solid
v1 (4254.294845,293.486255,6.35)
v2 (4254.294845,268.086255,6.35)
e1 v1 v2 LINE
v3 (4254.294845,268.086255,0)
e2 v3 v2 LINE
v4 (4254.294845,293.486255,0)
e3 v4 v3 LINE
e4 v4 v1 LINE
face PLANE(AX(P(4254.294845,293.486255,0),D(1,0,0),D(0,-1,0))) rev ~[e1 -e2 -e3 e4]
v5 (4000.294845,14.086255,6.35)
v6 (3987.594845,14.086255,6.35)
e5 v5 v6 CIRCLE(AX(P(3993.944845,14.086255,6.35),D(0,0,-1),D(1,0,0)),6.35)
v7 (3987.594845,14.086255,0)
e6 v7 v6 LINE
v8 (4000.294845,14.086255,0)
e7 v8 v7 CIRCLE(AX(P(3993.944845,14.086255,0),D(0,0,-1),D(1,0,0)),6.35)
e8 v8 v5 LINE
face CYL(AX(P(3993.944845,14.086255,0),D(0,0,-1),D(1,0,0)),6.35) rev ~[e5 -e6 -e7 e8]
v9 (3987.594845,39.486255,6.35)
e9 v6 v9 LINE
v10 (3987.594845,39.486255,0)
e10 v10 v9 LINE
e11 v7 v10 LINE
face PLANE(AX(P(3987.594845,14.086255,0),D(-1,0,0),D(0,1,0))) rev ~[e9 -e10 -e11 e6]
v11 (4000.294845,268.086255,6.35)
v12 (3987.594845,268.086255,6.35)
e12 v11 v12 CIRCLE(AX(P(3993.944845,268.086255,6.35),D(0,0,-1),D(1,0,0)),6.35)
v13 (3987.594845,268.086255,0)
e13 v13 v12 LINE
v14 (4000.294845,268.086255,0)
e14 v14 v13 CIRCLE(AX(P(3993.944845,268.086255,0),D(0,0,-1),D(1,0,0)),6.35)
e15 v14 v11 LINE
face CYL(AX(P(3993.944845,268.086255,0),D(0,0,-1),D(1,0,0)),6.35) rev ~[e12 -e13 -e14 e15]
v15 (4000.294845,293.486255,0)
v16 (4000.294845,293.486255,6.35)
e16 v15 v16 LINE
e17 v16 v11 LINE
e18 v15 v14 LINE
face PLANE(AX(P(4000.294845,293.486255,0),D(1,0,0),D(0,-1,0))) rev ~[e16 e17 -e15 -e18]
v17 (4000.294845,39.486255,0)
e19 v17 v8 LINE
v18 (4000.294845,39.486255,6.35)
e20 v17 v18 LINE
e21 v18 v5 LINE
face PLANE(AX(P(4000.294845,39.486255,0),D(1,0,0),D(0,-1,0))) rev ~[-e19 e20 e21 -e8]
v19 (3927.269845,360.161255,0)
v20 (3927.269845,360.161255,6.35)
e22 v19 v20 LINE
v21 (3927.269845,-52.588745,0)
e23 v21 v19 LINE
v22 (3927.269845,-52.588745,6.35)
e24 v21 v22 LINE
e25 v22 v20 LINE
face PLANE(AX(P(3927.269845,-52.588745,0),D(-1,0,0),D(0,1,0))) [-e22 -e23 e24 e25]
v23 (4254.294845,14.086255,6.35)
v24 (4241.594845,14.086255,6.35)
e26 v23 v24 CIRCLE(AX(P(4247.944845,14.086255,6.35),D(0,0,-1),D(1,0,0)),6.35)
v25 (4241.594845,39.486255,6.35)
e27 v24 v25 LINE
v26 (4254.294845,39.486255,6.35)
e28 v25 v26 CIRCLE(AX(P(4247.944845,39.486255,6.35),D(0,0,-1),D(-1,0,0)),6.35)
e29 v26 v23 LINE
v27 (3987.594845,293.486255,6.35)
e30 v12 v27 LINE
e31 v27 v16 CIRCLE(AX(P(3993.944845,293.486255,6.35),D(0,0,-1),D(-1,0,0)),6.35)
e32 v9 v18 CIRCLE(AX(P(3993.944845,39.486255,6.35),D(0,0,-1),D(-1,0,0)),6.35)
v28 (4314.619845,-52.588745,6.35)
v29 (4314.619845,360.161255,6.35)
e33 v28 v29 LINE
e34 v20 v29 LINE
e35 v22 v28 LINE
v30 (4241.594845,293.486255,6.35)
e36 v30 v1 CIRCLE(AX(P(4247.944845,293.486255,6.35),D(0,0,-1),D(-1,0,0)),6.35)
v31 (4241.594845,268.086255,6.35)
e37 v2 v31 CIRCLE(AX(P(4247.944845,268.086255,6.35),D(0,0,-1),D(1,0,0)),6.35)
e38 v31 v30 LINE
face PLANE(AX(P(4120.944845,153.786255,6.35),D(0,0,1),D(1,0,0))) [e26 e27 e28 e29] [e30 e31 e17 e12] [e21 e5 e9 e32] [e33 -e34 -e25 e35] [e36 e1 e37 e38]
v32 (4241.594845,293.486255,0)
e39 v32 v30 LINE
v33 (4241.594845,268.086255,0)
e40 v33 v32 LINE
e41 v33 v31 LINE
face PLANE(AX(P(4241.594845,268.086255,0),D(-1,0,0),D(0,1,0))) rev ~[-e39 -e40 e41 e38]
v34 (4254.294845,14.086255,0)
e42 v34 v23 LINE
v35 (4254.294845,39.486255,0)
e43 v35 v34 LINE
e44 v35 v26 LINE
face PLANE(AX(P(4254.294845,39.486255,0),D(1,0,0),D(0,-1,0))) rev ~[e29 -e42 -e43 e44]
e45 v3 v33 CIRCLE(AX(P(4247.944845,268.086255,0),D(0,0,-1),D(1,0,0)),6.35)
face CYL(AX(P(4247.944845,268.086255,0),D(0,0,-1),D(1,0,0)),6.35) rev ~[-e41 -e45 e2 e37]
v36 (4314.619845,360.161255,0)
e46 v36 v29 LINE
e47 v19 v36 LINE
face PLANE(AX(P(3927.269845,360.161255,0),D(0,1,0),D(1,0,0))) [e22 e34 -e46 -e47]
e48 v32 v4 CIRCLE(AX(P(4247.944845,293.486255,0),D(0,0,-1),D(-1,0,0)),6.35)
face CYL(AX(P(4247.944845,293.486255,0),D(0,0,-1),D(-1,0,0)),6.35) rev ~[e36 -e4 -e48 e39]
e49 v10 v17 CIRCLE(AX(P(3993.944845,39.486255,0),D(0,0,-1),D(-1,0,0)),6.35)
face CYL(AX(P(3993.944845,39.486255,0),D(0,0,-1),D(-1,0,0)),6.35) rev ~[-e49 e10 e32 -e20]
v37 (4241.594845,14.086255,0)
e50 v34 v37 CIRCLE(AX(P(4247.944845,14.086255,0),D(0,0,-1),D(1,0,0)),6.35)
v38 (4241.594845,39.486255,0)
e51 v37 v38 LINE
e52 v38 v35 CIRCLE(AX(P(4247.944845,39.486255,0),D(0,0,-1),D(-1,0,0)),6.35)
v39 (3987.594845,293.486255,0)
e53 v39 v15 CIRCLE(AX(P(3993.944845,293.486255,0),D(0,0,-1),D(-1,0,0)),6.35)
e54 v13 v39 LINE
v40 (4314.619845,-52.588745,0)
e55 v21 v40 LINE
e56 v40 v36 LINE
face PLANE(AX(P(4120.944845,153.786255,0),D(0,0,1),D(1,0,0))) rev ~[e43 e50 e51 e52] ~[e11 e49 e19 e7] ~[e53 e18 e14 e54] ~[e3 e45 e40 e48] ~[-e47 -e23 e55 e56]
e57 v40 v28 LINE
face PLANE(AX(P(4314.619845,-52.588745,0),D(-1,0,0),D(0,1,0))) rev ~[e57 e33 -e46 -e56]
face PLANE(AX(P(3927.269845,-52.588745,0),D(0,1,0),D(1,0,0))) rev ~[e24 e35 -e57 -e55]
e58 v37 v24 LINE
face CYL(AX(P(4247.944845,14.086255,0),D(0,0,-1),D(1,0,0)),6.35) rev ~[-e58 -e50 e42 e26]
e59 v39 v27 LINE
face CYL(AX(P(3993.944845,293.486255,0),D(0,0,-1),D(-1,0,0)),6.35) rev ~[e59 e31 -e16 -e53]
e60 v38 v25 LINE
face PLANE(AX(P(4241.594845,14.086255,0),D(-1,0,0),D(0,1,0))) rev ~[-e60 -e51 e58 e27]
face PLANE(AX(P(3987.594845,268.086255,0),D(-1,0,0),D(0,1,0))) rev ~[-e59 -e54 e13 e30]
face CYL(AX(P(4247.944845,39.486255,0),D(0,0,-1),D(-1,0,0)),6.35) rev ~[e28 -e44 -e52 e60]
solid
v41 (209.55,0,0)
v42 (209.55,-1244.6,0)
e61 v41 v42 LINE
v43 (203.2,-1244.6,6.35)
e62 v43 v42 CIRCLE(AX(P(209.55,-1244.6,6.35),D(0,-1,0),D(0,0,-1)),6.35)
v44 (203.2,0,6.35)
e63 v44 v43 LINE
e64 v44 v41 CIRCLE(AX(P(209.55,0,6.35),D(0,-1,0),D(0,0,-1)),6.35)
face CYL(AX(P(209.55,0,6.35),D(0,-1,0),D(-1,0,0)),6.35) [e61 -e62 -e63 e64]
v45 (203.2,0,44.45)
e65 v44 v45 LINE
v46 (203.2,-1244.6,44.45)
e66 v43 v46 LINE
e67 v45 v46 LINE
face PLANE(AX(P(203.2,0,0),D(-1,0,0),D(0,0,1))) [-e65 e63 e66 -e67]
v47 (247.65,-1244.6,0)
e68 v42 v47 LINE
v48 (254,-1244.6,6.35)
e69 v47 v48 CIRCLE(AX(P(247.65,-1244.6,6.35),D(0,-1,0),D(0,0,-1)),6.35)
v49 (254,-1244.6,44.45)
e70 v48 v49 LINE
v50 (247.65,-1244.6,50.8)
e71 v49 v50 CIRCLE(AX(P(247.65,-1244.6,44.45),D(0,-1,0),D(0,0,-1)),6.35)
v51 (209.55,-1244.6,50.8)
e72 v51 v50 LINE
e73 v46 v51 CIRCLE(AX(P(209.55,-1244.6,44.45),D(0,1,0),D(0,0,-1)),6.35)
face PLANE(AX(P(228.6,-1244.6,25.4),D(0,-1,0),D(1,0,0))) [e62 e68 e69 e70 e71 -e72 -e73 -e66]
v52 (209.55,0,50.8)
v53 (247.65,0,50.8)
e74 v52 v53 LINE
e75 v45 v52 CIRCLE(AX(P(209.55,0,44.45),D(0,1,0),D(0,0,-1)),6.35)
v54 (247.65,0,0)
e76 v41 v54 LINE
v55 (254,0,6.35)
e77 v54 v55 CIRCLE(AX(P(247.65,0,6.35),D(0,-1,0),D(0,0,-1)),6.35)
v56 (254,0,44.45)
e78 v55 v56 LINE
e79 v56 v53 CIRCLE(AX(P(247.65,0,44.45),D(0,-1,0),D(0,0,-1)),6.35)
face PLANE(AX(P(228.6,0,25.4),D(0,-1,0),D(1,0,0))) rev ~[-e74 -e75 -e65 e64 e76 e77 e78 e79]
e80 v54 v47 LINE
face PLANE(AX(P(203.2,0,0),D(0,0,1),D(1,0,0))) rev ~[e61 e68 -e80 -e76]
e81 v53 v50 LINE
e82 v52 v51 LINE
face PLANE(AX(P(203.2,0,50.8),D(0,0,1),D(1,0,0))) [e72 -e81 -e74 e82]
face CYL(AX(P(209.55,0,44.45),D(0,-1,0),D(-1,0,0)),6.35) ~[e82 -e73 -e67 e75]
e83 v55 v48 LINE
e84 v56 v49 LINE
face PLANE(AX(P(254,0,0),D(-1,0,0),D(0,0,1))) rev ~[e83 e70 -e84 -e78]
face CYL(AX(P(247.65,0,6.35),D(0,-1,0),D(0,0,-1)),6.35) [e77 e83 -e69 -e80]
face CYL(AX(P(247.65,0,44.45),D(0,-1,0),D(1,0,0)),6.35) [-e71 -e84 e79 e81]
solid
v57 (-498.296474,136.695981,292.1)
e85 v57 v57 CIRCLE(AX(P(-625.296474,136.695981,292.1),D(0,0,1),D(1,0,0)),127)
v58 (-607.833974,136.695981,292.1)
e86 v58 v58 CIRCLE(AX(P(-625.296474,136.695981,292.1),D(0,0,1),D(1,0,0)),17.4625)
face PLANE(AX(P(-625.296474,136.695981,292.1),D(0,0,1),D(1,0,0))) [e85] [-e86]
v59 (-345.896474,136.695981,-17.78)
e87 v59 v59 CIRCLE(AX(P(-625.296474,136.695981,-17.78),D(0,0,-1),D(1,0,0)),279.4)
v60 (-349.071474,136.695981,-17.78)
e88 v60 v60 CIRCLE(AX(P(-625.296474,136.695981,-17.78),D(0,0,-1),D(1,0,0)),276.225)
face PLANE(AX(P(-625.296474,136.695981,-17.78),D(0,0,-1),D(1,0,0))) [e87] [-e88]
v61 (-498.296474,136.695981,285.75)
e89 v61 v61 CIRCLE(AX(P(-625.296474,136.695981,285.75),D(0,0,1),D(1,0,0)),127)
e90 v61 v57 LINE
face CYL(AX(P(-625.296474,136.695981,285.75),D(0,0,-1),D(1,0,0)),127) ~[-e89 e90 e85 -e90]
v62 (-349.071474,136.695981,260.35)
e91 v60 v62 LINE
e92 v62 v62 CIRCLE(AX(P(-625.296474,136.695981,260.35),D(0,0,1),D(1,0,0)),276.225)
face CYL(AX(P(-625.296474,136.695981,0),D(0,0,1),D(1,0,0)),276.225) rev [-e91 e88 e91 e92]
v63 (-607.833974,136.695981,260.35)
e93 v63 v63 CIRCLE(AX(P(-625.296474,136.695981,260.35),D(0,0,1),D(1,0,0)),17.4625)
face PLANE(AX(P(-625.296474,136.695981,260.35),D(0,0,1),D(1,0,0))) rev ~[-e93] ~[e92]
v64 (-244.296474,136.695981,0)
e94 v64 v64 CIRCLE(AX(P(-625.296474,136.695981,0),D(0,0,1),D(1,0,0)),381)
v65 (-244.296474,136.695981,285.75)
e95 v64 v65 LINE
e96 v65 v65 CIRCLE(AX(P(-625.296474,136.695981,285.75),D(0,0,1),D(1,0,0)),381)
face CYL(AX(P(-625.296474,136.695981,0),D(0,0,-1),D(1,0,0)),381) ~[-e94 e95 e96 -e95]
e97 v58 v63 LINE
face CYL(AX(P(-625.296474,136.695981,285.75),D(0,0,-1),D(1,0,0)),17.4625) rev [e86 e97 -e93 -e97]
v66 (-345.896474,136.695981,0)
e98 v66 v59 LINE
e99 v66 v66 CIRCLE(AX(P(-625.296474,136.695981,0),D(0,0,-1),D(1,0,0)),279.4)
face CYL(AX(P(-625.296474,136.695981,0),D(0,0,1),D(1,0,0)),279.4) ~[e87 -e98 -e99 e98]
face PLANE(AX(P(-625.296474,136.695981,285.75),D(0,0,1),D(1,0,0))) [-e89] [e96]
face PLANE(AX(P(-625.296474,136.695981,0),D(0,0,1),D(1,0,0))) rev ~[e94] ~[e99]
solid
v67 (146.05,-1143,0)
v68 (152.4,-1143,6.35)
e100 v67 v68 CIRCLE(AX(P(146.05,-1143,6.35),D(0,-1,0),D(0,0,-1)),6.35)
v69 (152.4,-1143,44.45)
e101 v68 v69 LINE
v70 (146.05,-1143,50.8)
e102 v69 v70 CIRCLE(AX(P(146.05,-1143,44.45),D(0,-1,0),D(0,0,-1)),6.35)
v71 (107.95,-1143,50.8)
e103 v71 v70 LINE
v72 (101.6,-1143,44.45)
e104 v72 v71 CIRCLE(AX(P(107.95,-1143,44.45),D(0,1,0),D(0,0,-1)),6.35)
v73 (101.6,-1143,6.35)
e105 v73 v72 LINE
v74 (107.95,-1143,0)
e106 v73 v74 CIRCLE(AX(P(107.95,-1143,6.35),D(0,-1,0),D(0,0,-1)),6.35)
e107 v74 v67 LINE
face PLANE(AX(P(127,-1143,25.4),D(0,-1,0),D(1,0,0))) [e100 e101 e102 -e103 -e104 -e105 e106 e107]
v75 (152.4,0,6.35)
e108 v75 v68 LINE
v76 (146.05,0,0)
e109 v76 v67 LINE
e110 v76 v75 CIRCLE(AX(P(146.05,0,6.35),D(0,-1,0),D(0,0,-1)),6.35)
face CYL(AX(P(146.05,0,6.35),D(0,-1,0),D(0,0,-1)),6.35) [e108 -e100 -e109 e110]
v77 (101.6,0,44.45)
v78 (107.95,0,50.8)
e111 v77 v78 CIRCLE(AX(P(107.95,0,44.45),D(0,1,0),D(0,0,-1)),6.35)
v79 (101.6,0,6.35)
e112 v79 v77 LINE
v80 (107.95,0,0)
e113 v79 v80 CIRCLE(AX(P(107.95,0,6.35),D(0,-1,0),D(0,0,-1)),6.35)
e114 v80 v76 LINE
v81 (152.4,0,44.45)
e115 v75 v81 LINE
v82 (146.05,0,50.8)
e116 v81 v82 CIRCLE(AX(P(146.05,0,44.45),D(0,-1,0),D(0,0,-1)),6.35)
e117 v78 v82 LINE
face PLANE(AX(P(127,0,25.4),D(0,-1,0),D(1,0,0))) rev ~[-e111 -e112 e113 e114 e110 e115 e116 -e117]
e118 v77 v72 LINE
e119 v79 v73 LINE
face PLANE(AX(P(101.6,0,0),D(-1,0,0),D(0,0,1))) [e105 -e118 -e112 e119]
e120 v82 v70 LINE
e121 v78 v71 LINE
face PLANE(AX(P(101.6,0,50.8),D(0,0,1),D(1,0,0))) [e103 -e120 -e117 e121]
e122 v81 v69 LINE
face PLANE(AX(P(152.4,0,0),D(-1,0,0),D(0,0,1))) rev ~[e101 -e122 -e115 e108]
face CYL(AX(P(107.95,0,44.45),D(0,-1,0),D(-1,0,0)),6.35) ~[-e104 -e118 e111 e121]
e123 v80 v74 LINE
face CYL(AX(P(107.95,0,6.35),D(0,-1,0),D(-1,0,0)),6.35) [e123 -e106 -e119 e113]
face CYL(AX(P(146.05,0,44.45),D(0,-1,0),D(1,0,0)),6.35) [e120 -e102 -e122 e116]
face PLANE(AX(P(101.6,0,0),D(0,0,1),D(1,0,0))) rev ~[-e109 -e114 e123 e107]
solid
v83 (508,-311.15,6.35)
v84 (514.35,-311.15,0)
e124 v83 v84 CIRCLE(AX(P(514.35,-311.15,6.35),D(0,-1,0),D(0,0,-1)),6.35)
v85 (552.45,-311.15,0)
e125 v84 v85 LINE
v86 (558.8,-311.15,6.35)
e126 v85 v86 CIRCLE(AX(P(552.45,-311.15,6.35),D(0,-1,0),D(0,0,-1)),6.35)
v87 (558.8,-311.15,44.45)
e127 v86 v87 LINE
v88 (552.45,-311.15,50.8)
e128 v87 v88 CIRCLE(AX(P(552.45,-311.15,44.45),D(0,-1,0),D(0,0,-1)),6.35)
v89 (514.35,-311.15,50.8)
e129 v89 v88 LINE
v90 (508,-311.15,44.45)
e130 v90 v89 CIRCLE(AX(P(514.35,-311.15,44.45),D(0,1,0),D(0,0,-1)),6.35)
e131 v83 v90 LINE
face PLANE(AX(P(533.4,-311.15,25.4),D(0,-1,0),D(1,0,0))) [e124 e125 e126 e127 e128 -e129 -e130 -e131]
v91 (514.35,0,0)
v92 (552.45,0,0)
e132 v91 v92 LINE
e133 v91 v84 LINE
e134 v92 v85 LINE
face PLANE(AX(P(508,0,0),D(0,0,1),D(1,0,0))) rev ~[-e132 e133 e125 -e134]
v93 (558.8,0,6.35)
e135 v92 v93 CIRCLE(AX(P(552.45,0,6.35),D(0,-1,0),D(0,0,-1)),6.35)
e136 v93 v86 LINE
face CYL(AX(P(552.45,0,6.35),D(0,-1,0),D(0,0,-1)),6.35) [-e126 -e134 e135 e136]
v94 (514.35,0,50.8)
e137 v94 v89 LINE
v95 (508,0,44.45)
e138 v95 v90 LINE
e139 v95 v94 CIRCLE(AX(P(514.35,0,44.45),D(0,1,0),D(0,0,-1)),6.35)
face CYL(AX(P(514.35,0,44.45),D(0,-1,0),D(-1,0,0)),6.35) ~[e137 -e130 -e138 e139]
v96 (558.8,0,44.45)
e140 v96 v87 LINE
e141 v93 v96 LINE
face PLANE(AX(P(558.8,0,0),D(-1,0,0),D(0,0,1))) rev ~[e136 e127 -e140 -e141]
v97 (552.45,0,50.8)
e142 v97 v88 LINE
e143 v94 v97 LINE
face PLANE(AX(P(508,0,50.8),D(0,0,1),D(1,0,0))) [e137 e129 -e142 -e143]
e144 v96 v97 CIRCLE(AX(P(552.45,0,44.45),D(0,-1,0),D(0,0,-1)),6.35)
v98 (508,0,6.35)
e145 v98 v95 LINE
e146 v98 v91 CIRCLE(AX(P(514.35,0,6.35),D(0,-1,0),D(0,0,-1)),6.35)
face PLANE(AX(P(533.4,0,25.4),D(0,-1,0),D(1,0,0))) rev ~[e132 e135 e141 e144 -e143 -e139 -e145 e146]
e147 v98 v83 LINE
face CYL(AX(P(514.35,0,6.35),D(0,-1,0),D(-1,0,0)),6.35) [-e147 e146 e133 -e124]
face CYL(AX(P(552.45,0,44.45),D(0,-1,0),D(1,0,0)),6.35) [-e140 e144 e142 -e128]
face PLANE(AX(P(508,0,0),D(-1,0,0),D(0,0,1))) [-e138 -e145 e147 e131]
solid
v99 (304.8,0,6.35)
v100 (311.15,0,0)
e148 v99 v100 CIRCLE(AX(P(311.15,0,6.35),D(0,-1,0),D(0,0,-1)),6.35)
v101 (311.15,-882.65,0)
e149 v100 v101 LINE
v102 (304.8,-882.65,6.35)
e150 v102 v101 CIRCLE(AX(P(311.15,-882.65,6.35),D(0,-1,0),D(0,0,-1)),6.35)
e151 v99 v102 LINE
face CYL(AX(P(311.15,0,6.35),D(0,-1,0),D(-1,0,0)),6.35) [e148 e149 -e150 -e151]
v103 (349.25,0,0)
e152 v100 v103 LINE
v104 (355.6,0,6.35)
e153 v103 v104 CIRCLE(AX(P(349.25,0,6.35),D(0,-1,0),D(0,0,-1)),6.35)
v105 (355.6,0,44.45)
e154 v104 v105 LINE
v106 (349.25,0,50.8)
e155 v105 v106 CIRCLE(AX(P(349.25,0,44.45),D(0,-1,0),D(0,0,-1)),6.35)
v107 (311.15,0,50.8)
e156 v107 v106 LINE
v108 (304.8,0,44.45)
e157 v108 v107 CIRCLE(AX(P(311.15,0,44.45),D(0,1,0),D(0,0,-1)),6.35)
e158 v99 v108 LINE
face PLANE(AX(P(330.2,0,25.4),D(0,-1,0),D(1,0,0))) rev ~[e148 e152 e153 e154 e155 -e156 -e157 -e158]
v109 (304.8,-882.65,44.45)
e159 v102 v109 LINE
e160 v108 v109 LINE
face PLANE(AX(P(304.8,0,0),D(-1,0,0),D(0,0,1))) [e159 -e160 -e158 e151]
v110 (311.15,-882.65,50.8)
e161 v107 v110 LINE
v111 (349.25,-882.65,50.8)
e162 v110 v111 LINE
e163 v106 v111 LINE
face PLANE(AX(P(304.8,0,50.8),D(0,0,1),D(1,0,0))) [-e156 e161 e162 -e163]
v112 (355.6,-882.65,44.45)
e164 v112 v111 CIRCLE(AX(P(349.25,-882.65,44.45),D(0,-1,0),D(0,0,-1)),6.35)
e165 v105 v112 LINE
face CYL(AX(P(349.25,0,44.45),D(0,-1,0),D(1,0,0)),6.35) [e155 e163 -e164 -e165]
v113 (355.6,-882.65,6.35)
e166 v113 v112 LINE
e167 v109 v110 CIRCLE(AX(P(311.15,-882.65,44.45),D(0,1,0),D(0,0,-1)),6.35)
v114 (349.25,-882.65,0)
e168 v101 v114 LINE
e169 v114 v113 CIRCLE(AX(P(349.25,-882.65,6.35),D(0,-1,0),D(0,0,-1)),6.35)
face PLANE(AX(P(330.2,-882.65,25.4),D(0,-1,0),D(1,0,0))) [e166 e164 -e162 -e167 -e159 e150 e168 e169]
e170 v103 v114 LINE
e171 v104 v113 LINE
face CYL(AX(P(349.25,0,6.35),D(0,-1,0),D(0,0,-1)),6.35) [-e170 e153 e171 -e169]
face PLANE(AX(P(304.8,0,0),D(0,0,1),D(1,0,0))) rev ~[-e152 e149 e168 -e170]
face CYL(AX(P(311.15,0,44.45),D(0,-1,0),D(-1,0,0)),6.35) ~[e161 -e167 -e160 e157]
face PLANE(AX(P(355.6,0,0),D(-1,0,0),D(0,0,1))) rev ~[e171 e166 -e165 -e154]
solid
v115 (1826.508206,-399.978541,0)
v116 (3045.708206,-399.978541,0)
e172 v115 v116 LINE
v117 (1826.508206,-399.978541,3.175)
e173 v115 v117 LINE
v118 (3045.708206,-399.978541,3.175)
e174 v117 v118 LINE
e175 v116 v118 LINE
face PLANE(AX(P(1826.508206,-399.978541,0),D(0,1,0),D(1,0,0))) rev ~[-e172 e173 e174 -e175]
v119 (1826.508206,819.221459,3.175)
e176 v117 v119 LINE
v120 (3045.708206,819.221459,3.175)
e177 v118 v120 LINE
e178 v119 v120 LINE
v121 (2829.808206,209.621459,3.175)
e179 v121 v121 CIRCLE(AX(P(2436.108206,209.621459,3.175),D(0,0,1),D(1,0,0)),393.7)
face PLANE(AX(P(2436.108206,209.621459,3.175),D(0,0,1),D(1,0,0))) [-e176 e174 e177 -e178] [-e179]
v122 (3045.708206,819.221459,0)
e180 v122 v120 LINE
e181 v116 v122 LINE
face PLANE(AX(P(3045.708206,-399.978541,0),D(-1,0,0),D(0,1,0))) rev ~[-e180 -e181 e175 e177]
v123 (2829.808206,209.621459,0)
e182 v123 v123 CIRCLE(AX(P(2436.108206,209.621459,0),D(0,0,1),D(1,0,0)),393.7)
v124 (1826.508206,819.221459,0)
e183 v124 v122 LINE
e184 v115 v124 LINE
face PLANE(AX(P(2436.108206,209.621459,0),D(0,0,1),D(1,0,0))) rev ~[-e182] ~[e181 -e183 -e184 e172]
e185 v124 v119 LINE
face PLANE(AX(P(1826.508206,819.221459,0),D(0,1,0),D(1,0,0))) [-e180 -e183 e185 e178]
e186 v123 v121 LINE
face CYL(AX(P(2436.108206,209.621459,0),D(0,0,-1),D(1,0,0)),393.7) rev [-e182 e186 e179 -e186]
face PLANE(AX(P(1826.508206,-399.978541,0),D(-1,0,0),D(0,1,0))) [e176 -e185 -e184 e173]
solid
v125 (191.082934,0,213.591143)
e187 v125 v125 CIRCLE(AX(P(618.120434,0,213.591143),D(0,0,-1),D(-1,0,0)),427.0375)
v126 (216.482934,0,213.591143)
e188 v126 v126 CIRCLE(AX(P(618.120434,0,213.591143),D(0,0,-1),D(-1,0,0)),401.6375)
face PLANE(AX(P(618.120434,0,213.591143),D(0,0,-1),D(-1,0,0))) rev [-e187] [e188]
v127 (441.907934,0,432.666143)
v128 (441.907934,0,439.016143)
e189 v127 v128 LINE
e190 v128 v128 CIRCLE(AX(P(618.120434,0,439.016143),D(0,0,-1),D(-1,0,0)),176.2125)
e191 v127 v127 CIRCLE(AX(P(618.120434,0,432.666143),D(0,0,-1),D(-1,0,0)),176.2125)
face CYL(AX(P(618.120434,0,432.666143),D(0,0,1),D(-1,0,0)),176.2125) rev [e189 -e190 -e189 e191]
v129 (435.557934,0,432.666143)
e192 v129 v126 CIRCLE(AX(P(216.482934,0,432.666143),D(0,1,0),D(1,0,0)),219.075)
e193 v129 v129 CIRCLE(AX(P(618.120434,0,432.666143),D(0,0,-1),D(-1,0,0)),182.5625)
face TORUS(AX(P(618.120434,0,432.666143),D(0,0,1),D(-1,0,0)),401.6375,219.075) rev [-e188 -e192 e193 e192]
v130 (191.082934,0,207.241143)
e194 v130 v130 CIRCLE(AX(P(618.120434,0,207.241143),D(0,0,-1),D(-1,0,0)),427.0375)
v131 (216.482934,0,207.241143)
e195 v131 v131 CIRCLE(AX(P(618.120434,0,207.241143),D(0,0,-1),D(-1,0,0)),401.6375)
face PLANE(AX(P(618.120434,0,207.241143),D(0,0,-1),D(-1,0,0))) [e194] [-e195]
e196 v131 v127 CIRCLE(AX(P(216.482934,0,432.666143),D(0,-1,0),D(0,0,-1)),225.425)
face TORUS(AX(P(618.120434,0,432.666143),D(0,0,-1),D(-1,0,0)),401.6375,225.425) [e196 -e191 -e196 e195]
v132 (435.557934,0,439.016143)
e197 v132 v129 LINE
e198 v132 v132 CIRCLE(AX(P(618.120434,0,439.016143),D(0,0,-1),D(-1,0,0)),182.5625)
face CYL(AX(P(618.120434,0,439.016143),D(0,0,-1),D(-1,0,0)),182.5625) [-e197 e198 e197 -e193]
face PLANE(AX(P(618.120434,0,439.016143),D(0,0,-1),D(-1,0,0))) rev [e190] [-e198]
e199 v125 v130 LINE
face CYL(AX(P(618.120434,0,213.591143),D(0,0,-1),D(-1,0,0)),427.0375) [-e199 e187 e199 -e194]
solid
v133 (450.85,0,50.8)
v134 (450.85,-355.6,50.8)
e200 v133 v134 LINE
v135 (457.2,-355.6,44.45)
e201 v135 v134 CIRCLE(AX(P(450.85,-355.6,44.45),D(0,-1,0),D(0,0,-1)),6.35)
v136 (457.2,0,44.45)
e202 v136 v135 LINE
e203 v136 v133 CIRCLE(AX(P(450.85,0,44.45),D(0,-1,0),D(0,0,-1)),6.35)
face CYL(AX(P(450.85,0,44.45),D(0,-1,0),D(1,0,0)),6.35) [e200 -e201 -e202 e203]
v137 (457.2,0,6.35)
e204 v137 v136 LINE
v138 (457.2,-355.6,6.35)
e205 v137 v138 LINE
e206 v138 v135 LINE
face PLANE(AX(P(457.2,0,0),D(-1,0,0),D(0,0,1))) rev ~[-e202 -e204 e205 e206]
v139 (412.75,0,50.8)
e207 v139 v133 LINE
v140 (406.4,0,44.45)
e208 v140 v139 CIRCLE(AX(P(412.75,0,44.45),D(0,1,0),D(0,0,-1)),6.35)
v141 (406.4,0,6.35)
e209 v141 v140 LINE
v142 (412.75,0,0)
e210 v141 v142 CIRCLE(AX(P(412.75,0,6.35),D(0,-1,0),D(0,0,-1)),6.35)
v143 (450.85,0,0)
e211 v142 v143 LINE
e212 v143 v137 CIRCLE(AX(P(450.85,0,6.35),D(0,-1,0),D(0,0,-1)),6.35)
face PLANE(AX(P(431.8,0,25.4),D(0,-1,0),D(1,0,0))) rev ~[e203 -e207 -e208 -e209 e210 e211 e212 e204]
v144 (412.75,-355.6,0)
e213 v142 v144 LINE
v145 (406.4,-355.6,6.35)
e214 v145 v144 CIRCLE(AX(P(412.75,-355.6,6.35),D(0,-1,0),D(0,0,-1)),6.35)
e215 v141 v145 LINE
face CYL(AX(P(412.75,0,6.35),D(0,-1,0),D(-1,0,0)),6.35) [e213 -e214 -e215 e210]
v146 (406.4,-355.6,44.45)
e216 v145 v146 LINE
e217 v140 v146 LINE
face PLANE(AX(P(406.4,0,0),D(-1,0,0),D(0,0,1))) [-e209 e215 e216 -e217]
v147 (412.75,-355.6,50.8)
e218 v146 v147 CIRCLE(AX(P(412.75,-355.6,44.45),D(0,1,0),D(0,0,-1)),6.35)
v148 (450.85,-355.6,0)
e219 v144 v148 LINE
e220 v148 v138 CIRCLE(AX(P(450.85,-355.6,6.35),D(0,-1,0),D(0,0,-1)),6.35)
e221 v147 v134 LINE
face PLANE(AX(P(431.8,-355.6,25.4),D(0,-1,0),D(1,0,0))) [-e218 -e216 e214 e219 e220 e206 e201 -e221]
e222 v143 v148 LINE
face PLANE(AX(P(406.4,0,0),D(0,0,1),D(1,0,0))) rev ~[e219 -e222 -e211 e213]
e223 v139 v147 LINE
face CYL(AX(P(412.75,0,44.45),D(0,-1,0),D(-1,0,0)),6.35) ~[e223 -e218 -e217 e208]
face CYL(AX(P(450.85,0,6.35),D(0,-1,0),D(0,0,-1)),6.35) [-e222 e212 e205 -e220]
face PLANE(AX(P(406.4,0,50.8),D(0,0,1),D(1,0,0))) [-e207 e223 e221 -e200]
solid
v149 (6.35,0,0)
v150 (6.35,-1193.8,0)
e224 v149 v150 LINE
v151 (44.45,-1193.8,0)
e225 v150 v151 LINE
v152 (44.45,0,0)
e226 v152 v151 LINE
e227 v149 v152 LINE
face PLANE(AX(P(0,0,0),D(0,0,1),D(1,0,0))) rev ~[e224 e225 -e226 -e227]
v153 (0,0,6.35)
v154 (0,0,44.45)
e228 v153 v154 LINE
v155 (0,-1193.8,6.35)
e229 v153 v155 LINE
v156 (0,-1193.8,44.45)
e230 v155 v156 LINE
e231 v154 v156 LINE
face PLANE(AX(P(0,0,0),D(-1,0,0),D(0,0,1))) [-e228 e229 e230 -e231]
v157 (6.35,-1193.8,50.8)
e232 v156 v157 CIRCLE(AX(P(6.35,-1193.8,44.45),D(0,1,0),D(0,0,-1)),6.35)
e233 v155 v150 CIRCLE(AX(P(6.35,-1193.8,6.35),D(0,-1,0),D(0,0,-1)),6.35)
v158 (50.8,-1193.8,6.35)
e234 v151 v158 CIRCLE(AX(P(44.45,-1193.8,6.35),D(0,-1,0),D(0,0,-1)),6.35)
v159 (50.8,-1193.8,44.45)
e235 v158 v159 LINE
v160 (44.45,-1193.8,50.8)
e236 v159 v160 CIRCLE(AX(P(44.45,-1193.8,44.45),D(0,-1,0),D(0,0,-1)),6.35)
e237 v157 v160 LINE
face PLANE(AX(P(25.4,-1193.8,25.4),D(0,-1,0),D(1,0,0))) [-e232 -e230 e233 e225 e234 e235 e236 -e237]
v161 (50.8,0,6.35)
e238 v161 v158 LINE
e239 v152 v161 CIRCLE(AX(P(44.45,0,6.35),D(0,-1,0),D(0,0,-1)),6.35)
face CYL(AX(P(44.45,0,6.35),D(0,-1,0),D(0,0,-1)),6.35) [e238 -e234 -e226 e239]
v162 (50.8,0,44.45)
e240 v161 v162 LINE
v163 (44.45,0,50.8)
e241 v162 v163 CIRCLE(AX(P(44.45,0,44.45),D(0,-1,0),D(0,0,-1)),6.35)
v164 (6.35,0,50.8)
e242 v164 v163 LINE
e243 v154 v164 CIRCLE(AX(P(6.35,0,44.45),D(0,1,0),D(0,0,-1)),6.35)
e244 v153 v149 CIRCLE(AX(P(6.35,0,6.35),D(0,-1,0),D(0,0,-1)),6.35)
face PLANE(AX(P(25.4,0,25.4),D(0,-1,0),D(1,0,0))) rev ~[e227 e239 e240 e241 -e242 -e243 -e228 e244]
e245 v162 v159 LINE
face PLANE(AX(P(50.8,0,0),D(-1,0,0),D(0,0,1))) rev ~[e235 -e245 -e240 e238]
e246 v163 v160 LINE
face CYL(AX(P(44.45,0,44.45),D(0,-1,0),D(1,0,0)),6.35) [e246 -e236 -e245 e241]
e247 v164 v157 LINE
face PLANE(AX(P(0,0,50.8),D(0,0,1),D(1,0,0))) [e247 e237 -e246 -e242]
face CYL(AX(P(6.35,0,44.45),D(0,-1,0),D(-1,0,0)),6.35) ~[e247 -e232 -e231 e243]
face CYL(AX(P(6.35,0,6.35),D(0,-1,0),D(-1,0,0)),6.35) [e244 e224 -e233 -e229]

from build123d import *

# Parameters (mm, degrees)
F0_W      = 50.8
F0_H      = 50.8
F1_DEPTH  = 1193.8
F2_R      = 6.35
F3_DEPTH  = 1143
F4_DEPTH  = 1244.6
F5_DEPTH  = 882.65
F6_DEPTH  = 355.6
F9_R      = 381
F9_R_2    = 276.225
F10_DEPTH = 285.75
F11_DEPTH = 311.15
F12_W     = 1219.2
F12_H     = 1219.2
F12_R     = 393.7
F13_DEPTH = 3.175
F14_W     = 387.35
F14_H     = 412.75
F15_DEPTH = 6.35
F16_R     = 6.35
F16_2_R   = 6.35
F16_3_R   = 6.35
F16_4_R   = 6.35
F16_5_R   = 6.35
F17_R     = 276.225
F18_DEPTH = 25.4
F19_R     = 17.4625
F20_DEPTH = 25.4
F21_R     = 127
F21_R_2   = 17.4625
F22_DEPTH = 6.35
F23_R     = 279.4
F23_R_2   = 276.225
F24_DEPTH = 17.78


with BuildPart() as f1:
    # F0 (on Front) → F1 (new body)
    with BuildSketch(Plane.XZ):
        with Locations((25.4, 25.4)):
            Rectangle(F0_W, F0_H)
    extrude(amount=F1_DEPTH)

    # F2
    f2_edges = [f1.edges().sort_by_distance(p)[0] for p in [
        (0, -596.9, 50.8),
        (0, -596.9, 0),
        (50.8, -596.9, 50.8),
        (50.8, -596.9, 0),
    ]]
    fillet(f2_edges, radius=F2_R)


with BuildPart() as f3:
    # F0 (on Front) → F3 (new body)
    with BuildSketch(Plane.XZ):
        with Locations((127, 25.4)):
            Rectangle(F0_W, F0_H)
    extrude(amount=F3_DEPTH)

    # F16
    f16_edges = [f3.edges().sort_by_distance(p)[0] for p in [
        (101.6, -571.5, 50.8),
        (152.4, -571.5, 50.8),
        (101.6, -571.5, 0),
        (152.4, -571.5, 0),
    ]]
    fillet(f16_edges, radius=F16_R)


with BuildPart() as f4:
    # F0 (on Front) → F4 (new body)
    with BuildSketch(Plane.XZ):
        with Locations((228.6, 25.4)):
            Rectangle(F0_W, F0_H)
    extrude(amount=F4_DEPTH)

    # F16#2
    f16_2_edges = [f4.edges().sort_by_distance(p)[0] for p in [
        (203.2, -622.3, 50.8),
        (254, -622.3, 50.8),
        (203.2, -622.3, 0),
        (254, -622.3, 0),
    ]]
    fillet(f16_2_edges, radius=F16_2_R)


with BuildPart() as f5:
    # F0 (on Front) → F5 (new body)
    with BuildSketch(Plane.XZ):
        with Locations((330.2, 25.4)):
            Rectangle(F0_W, F0_H)
    extrude(amount=F5_DEPTH)

    # F16#3
    f16_3_edges = [f5.edges().sort_by_distance(p)[0] for p in [
        (304.8, -441.325, 0),
        (355.6, -441.325, 0),
        (304.8, -441.325, 50.8),
        (355.6, -441.325, 50.8),
    ]]
    fillet(f16_3_edges, radius=F16_3_R)


with BuildPart() as f6:
    # F0 (on Front) → F6 (new body)
    with BuildSketch(Plane.XZ):
        with Locations((431.8, 25.4)):
            Rectangle(F0_W, F0_H)
    extrude(amount=F6_DEPTH)

    # F16#4
    f16_4_edges = [f6.edges().sort_by_distance(p)[0] for p in [
        (406.4, -177.8, 0),
        (457.2, -177.8, 0),
        (406.4, -177.8, 50.8),
        (457.2, -177.8, 50.8),
    ]]
    fillet(f16_4_edges, radius=F16_4_R)


with BuildPart() as f8:
    # F7 (on Front) → F8 (revolve)
    with BuildSketch(Plane.XZ):
        with BuildLine():
            Line((216.4829341531, 213.5911434889), (191.0829341531, 213.5911434889))
            Line((191.0829341531, 213.5911434889), (191.0829341531, 207.2411434889))
            Line((191.0829341531, 207.2411434889), (216.4829341531, 207.2411434889))
            ThreePointArc((216.4829341531, 207.2411434889), (375.8824803021, 273.2665973399), (441.9079341531, 432.6661434889))
            Line((441.9079341531, 432.6661434889), (441.9079341531, 439.0161434889))
            Line((441.9079341531, 439.0161434889), (435.5579341531, 439.0161434889))
            Line((435.5579341531, 439.0161434889), (435.5579341531, 432.6661434889))
            ThreePointArc((435.5579341531, 432.6661434889), (371.3923522415, 277.7567254004), (216.4829341531, 213.5911434889))
        make_face()
    revolve(axis=Axis((618.1204341531, 0, 330.7071775198), (0, 0, -1)))


with BuildPart() as f10:
    # F9 (on Top) → F10 (new body)
    with BuildSketch(Plane.XY):
        with Locations((-625.2964735031, 136.6959810257)):
            Circle(F9_R)
        with Locations((-625.2964735031, 136.6959810257)):
            Circle(F9_R_2, mode=Mode.SUBTRACT)
    extrude(amount=F10_DEPTH)

    # F17 (on face) → F18 (join)
    with BuildSketch(Plane.XY.offset(285.75)):
        with Locations((-625.2964735031, 136.6959810257)):
            Circle(F17_R)
    extrude(amount=-F18_DEPTH)

    # F19 (on face) → F20 (cut, through all)
    with BuildSketch(Plane.XY.offset(285.75)):
        with Locations((-625.2964735031, 136.6959810257)):
            Circle(F19_R)
    extrude(amount=-F20_DEPTH, mode=Mode.SUBTRACT)

    # F21 (on face) → F22 (join)
    with BuildSketch(Plane.XY.offset(285.75)):
        with Locations((-625.2964735031, 136.6959810257)):
            Circle(F21_R)
        with Locations((-625.2964735031, 136.6959810257)):
            Circle(F21_R_2, mode=Mode.SUBTRACT)
    extrude(amount=F22_DEPTH)

    # F23 (on face) → F24 (join)
    with BuildSketch(Plane(origin=(0, 0, 0), x_dir=(1, 0, 0), z_dir=(0, 0, -1))):
        with Locations((-625.2964735031, -136.6959810257)):
            Circle(F23_R)
        with Locations((-625.2964735031, -136.6959810257)):
            Circle(F23_R_2, mode=Mode.SUBTRACT)
    extrude(amount=F24_DEPTH)


with BuildPart() as f11:
    # F0 (on Front) → F11 (new body)
    with BuildSketch(Plane.XZ):
        with Locations((533.4, 25.4)):
            Rectangle(F0_W, F0_H)
    extrude(amount=F11_DEPTH)

    # F16#5
    f16_5_edges = [f11.edges().sort_by_distance(p)[0] for p in [
        (508, -155.575, 0),
        (558.8, -155.575, 0),
        (508, -155.575, 50.8),
        (558.8, -155.575, 50.8),
    ]]
    fillet(f16_5_edges, radius=F16_5_R)


with BuildPart() as f13:
    # F12 (on Top) → F13 (new body)
    with BuildSketch(Plane.XY):
        with Locations((2436.1082060814, 209.6214594526)):
            Rectangle(F12_W, F12_H)
        with Locations((2436.1082060814, 209.6214594526)):
            Circle(F12_R, mode=Mode.SUBTRACT)
    extrude(amount=F13_DEPTH)


with BuildPart() as f15:
    # F14 (on Top) → F15 (new body)
    with BuildSketch(Plane.XY):
        with Locations((4120.9448446361, 153.7862545967)):
            Rectangle(F14_W, F14_H)
        with BuildLine():
            Line((3987.5948446361, 14.0862545967), (3987.5948446361, 39.4862545967))
            ThreePointArc((3987.5948446361, 39.4862545967), (3993.9448446361, 45.8362545967), (4000.2948446361, 39.4862545967))
            Line((4000.2948446361, 39.4862545967), (4000.2948446361, 14.0862545967))
            ThreePointArc((4000.2948446361, 14.0862545967), (3993.9448446361, 7.7362545967), (3987.5948446361, 14.0862545967))
        make_face(mode=Mode.SUBTRACT)
        with BuildLine():
            Line((4241.5948446361, 14.0862545967), (4241.5948446361, 39.4862545967))
            ThreePointArc((4241.5948446361, 39.4862545967), (4247.9448446361, 45.8362545967), (4254.2948446361, 39.4862545967))
            Line((4254.2948446361, 39.4862545967), (4254.2948446361, 14.0862545967))
            ThreePointArc((4254.2948446361, 14.0862545967), (4247.9448446361, 7.7362545967), (4241.5948446361, 14.0862545967))
        make_face(mode=Mode.SUBTRACT)
        with BuildLine():
            Line((3987.5948446361, 268.0862545967), (3987.5948446361, 293.4862545967))
            ThreePointArc((3987.5948446361, 293.4862545967), (3993.9448446361, 299.8362545967), (4000.2948446361, 293.4862545967))
            Line((4000.2948446361, 293.4862545967), (4000.2948446361, 268.0862545967))
            ThreePointArc((4000.2948446361, 268.0862545967), (3993.9448446361, 261.7362545967), (3987.5948446361, 268.0862545967))
        make_face(mode=Mode.SUBTRACT)
        with BuildLine():
            Line((4241.5948446361, 268.0862545967), (4241.5948446361, 293.4862545967))
            ThreePointArc((4241.5948446361, 293.4862545967), (4247.9448446361, 299.8362545967), (4254.2948446361, 293.4862545967))
            Line((4254.2948446361, 293.4862545967), (4254.2948446361, 268.0862545967))
            ThreePointArc((4254.2948446361, 268.0862545967), (4247.9448446361, 261.7362545967), (4241.5948446361, 268.0862545967))
        make_face(mode=Mode.SUBTRACT)
    extrude(amount=F15_DEPTH)


solid = Compound([f1.part, f3.part, f4.part, f5.part, f6.part, f8.part, f10.part, f11.part, f13.part, f15.part])
